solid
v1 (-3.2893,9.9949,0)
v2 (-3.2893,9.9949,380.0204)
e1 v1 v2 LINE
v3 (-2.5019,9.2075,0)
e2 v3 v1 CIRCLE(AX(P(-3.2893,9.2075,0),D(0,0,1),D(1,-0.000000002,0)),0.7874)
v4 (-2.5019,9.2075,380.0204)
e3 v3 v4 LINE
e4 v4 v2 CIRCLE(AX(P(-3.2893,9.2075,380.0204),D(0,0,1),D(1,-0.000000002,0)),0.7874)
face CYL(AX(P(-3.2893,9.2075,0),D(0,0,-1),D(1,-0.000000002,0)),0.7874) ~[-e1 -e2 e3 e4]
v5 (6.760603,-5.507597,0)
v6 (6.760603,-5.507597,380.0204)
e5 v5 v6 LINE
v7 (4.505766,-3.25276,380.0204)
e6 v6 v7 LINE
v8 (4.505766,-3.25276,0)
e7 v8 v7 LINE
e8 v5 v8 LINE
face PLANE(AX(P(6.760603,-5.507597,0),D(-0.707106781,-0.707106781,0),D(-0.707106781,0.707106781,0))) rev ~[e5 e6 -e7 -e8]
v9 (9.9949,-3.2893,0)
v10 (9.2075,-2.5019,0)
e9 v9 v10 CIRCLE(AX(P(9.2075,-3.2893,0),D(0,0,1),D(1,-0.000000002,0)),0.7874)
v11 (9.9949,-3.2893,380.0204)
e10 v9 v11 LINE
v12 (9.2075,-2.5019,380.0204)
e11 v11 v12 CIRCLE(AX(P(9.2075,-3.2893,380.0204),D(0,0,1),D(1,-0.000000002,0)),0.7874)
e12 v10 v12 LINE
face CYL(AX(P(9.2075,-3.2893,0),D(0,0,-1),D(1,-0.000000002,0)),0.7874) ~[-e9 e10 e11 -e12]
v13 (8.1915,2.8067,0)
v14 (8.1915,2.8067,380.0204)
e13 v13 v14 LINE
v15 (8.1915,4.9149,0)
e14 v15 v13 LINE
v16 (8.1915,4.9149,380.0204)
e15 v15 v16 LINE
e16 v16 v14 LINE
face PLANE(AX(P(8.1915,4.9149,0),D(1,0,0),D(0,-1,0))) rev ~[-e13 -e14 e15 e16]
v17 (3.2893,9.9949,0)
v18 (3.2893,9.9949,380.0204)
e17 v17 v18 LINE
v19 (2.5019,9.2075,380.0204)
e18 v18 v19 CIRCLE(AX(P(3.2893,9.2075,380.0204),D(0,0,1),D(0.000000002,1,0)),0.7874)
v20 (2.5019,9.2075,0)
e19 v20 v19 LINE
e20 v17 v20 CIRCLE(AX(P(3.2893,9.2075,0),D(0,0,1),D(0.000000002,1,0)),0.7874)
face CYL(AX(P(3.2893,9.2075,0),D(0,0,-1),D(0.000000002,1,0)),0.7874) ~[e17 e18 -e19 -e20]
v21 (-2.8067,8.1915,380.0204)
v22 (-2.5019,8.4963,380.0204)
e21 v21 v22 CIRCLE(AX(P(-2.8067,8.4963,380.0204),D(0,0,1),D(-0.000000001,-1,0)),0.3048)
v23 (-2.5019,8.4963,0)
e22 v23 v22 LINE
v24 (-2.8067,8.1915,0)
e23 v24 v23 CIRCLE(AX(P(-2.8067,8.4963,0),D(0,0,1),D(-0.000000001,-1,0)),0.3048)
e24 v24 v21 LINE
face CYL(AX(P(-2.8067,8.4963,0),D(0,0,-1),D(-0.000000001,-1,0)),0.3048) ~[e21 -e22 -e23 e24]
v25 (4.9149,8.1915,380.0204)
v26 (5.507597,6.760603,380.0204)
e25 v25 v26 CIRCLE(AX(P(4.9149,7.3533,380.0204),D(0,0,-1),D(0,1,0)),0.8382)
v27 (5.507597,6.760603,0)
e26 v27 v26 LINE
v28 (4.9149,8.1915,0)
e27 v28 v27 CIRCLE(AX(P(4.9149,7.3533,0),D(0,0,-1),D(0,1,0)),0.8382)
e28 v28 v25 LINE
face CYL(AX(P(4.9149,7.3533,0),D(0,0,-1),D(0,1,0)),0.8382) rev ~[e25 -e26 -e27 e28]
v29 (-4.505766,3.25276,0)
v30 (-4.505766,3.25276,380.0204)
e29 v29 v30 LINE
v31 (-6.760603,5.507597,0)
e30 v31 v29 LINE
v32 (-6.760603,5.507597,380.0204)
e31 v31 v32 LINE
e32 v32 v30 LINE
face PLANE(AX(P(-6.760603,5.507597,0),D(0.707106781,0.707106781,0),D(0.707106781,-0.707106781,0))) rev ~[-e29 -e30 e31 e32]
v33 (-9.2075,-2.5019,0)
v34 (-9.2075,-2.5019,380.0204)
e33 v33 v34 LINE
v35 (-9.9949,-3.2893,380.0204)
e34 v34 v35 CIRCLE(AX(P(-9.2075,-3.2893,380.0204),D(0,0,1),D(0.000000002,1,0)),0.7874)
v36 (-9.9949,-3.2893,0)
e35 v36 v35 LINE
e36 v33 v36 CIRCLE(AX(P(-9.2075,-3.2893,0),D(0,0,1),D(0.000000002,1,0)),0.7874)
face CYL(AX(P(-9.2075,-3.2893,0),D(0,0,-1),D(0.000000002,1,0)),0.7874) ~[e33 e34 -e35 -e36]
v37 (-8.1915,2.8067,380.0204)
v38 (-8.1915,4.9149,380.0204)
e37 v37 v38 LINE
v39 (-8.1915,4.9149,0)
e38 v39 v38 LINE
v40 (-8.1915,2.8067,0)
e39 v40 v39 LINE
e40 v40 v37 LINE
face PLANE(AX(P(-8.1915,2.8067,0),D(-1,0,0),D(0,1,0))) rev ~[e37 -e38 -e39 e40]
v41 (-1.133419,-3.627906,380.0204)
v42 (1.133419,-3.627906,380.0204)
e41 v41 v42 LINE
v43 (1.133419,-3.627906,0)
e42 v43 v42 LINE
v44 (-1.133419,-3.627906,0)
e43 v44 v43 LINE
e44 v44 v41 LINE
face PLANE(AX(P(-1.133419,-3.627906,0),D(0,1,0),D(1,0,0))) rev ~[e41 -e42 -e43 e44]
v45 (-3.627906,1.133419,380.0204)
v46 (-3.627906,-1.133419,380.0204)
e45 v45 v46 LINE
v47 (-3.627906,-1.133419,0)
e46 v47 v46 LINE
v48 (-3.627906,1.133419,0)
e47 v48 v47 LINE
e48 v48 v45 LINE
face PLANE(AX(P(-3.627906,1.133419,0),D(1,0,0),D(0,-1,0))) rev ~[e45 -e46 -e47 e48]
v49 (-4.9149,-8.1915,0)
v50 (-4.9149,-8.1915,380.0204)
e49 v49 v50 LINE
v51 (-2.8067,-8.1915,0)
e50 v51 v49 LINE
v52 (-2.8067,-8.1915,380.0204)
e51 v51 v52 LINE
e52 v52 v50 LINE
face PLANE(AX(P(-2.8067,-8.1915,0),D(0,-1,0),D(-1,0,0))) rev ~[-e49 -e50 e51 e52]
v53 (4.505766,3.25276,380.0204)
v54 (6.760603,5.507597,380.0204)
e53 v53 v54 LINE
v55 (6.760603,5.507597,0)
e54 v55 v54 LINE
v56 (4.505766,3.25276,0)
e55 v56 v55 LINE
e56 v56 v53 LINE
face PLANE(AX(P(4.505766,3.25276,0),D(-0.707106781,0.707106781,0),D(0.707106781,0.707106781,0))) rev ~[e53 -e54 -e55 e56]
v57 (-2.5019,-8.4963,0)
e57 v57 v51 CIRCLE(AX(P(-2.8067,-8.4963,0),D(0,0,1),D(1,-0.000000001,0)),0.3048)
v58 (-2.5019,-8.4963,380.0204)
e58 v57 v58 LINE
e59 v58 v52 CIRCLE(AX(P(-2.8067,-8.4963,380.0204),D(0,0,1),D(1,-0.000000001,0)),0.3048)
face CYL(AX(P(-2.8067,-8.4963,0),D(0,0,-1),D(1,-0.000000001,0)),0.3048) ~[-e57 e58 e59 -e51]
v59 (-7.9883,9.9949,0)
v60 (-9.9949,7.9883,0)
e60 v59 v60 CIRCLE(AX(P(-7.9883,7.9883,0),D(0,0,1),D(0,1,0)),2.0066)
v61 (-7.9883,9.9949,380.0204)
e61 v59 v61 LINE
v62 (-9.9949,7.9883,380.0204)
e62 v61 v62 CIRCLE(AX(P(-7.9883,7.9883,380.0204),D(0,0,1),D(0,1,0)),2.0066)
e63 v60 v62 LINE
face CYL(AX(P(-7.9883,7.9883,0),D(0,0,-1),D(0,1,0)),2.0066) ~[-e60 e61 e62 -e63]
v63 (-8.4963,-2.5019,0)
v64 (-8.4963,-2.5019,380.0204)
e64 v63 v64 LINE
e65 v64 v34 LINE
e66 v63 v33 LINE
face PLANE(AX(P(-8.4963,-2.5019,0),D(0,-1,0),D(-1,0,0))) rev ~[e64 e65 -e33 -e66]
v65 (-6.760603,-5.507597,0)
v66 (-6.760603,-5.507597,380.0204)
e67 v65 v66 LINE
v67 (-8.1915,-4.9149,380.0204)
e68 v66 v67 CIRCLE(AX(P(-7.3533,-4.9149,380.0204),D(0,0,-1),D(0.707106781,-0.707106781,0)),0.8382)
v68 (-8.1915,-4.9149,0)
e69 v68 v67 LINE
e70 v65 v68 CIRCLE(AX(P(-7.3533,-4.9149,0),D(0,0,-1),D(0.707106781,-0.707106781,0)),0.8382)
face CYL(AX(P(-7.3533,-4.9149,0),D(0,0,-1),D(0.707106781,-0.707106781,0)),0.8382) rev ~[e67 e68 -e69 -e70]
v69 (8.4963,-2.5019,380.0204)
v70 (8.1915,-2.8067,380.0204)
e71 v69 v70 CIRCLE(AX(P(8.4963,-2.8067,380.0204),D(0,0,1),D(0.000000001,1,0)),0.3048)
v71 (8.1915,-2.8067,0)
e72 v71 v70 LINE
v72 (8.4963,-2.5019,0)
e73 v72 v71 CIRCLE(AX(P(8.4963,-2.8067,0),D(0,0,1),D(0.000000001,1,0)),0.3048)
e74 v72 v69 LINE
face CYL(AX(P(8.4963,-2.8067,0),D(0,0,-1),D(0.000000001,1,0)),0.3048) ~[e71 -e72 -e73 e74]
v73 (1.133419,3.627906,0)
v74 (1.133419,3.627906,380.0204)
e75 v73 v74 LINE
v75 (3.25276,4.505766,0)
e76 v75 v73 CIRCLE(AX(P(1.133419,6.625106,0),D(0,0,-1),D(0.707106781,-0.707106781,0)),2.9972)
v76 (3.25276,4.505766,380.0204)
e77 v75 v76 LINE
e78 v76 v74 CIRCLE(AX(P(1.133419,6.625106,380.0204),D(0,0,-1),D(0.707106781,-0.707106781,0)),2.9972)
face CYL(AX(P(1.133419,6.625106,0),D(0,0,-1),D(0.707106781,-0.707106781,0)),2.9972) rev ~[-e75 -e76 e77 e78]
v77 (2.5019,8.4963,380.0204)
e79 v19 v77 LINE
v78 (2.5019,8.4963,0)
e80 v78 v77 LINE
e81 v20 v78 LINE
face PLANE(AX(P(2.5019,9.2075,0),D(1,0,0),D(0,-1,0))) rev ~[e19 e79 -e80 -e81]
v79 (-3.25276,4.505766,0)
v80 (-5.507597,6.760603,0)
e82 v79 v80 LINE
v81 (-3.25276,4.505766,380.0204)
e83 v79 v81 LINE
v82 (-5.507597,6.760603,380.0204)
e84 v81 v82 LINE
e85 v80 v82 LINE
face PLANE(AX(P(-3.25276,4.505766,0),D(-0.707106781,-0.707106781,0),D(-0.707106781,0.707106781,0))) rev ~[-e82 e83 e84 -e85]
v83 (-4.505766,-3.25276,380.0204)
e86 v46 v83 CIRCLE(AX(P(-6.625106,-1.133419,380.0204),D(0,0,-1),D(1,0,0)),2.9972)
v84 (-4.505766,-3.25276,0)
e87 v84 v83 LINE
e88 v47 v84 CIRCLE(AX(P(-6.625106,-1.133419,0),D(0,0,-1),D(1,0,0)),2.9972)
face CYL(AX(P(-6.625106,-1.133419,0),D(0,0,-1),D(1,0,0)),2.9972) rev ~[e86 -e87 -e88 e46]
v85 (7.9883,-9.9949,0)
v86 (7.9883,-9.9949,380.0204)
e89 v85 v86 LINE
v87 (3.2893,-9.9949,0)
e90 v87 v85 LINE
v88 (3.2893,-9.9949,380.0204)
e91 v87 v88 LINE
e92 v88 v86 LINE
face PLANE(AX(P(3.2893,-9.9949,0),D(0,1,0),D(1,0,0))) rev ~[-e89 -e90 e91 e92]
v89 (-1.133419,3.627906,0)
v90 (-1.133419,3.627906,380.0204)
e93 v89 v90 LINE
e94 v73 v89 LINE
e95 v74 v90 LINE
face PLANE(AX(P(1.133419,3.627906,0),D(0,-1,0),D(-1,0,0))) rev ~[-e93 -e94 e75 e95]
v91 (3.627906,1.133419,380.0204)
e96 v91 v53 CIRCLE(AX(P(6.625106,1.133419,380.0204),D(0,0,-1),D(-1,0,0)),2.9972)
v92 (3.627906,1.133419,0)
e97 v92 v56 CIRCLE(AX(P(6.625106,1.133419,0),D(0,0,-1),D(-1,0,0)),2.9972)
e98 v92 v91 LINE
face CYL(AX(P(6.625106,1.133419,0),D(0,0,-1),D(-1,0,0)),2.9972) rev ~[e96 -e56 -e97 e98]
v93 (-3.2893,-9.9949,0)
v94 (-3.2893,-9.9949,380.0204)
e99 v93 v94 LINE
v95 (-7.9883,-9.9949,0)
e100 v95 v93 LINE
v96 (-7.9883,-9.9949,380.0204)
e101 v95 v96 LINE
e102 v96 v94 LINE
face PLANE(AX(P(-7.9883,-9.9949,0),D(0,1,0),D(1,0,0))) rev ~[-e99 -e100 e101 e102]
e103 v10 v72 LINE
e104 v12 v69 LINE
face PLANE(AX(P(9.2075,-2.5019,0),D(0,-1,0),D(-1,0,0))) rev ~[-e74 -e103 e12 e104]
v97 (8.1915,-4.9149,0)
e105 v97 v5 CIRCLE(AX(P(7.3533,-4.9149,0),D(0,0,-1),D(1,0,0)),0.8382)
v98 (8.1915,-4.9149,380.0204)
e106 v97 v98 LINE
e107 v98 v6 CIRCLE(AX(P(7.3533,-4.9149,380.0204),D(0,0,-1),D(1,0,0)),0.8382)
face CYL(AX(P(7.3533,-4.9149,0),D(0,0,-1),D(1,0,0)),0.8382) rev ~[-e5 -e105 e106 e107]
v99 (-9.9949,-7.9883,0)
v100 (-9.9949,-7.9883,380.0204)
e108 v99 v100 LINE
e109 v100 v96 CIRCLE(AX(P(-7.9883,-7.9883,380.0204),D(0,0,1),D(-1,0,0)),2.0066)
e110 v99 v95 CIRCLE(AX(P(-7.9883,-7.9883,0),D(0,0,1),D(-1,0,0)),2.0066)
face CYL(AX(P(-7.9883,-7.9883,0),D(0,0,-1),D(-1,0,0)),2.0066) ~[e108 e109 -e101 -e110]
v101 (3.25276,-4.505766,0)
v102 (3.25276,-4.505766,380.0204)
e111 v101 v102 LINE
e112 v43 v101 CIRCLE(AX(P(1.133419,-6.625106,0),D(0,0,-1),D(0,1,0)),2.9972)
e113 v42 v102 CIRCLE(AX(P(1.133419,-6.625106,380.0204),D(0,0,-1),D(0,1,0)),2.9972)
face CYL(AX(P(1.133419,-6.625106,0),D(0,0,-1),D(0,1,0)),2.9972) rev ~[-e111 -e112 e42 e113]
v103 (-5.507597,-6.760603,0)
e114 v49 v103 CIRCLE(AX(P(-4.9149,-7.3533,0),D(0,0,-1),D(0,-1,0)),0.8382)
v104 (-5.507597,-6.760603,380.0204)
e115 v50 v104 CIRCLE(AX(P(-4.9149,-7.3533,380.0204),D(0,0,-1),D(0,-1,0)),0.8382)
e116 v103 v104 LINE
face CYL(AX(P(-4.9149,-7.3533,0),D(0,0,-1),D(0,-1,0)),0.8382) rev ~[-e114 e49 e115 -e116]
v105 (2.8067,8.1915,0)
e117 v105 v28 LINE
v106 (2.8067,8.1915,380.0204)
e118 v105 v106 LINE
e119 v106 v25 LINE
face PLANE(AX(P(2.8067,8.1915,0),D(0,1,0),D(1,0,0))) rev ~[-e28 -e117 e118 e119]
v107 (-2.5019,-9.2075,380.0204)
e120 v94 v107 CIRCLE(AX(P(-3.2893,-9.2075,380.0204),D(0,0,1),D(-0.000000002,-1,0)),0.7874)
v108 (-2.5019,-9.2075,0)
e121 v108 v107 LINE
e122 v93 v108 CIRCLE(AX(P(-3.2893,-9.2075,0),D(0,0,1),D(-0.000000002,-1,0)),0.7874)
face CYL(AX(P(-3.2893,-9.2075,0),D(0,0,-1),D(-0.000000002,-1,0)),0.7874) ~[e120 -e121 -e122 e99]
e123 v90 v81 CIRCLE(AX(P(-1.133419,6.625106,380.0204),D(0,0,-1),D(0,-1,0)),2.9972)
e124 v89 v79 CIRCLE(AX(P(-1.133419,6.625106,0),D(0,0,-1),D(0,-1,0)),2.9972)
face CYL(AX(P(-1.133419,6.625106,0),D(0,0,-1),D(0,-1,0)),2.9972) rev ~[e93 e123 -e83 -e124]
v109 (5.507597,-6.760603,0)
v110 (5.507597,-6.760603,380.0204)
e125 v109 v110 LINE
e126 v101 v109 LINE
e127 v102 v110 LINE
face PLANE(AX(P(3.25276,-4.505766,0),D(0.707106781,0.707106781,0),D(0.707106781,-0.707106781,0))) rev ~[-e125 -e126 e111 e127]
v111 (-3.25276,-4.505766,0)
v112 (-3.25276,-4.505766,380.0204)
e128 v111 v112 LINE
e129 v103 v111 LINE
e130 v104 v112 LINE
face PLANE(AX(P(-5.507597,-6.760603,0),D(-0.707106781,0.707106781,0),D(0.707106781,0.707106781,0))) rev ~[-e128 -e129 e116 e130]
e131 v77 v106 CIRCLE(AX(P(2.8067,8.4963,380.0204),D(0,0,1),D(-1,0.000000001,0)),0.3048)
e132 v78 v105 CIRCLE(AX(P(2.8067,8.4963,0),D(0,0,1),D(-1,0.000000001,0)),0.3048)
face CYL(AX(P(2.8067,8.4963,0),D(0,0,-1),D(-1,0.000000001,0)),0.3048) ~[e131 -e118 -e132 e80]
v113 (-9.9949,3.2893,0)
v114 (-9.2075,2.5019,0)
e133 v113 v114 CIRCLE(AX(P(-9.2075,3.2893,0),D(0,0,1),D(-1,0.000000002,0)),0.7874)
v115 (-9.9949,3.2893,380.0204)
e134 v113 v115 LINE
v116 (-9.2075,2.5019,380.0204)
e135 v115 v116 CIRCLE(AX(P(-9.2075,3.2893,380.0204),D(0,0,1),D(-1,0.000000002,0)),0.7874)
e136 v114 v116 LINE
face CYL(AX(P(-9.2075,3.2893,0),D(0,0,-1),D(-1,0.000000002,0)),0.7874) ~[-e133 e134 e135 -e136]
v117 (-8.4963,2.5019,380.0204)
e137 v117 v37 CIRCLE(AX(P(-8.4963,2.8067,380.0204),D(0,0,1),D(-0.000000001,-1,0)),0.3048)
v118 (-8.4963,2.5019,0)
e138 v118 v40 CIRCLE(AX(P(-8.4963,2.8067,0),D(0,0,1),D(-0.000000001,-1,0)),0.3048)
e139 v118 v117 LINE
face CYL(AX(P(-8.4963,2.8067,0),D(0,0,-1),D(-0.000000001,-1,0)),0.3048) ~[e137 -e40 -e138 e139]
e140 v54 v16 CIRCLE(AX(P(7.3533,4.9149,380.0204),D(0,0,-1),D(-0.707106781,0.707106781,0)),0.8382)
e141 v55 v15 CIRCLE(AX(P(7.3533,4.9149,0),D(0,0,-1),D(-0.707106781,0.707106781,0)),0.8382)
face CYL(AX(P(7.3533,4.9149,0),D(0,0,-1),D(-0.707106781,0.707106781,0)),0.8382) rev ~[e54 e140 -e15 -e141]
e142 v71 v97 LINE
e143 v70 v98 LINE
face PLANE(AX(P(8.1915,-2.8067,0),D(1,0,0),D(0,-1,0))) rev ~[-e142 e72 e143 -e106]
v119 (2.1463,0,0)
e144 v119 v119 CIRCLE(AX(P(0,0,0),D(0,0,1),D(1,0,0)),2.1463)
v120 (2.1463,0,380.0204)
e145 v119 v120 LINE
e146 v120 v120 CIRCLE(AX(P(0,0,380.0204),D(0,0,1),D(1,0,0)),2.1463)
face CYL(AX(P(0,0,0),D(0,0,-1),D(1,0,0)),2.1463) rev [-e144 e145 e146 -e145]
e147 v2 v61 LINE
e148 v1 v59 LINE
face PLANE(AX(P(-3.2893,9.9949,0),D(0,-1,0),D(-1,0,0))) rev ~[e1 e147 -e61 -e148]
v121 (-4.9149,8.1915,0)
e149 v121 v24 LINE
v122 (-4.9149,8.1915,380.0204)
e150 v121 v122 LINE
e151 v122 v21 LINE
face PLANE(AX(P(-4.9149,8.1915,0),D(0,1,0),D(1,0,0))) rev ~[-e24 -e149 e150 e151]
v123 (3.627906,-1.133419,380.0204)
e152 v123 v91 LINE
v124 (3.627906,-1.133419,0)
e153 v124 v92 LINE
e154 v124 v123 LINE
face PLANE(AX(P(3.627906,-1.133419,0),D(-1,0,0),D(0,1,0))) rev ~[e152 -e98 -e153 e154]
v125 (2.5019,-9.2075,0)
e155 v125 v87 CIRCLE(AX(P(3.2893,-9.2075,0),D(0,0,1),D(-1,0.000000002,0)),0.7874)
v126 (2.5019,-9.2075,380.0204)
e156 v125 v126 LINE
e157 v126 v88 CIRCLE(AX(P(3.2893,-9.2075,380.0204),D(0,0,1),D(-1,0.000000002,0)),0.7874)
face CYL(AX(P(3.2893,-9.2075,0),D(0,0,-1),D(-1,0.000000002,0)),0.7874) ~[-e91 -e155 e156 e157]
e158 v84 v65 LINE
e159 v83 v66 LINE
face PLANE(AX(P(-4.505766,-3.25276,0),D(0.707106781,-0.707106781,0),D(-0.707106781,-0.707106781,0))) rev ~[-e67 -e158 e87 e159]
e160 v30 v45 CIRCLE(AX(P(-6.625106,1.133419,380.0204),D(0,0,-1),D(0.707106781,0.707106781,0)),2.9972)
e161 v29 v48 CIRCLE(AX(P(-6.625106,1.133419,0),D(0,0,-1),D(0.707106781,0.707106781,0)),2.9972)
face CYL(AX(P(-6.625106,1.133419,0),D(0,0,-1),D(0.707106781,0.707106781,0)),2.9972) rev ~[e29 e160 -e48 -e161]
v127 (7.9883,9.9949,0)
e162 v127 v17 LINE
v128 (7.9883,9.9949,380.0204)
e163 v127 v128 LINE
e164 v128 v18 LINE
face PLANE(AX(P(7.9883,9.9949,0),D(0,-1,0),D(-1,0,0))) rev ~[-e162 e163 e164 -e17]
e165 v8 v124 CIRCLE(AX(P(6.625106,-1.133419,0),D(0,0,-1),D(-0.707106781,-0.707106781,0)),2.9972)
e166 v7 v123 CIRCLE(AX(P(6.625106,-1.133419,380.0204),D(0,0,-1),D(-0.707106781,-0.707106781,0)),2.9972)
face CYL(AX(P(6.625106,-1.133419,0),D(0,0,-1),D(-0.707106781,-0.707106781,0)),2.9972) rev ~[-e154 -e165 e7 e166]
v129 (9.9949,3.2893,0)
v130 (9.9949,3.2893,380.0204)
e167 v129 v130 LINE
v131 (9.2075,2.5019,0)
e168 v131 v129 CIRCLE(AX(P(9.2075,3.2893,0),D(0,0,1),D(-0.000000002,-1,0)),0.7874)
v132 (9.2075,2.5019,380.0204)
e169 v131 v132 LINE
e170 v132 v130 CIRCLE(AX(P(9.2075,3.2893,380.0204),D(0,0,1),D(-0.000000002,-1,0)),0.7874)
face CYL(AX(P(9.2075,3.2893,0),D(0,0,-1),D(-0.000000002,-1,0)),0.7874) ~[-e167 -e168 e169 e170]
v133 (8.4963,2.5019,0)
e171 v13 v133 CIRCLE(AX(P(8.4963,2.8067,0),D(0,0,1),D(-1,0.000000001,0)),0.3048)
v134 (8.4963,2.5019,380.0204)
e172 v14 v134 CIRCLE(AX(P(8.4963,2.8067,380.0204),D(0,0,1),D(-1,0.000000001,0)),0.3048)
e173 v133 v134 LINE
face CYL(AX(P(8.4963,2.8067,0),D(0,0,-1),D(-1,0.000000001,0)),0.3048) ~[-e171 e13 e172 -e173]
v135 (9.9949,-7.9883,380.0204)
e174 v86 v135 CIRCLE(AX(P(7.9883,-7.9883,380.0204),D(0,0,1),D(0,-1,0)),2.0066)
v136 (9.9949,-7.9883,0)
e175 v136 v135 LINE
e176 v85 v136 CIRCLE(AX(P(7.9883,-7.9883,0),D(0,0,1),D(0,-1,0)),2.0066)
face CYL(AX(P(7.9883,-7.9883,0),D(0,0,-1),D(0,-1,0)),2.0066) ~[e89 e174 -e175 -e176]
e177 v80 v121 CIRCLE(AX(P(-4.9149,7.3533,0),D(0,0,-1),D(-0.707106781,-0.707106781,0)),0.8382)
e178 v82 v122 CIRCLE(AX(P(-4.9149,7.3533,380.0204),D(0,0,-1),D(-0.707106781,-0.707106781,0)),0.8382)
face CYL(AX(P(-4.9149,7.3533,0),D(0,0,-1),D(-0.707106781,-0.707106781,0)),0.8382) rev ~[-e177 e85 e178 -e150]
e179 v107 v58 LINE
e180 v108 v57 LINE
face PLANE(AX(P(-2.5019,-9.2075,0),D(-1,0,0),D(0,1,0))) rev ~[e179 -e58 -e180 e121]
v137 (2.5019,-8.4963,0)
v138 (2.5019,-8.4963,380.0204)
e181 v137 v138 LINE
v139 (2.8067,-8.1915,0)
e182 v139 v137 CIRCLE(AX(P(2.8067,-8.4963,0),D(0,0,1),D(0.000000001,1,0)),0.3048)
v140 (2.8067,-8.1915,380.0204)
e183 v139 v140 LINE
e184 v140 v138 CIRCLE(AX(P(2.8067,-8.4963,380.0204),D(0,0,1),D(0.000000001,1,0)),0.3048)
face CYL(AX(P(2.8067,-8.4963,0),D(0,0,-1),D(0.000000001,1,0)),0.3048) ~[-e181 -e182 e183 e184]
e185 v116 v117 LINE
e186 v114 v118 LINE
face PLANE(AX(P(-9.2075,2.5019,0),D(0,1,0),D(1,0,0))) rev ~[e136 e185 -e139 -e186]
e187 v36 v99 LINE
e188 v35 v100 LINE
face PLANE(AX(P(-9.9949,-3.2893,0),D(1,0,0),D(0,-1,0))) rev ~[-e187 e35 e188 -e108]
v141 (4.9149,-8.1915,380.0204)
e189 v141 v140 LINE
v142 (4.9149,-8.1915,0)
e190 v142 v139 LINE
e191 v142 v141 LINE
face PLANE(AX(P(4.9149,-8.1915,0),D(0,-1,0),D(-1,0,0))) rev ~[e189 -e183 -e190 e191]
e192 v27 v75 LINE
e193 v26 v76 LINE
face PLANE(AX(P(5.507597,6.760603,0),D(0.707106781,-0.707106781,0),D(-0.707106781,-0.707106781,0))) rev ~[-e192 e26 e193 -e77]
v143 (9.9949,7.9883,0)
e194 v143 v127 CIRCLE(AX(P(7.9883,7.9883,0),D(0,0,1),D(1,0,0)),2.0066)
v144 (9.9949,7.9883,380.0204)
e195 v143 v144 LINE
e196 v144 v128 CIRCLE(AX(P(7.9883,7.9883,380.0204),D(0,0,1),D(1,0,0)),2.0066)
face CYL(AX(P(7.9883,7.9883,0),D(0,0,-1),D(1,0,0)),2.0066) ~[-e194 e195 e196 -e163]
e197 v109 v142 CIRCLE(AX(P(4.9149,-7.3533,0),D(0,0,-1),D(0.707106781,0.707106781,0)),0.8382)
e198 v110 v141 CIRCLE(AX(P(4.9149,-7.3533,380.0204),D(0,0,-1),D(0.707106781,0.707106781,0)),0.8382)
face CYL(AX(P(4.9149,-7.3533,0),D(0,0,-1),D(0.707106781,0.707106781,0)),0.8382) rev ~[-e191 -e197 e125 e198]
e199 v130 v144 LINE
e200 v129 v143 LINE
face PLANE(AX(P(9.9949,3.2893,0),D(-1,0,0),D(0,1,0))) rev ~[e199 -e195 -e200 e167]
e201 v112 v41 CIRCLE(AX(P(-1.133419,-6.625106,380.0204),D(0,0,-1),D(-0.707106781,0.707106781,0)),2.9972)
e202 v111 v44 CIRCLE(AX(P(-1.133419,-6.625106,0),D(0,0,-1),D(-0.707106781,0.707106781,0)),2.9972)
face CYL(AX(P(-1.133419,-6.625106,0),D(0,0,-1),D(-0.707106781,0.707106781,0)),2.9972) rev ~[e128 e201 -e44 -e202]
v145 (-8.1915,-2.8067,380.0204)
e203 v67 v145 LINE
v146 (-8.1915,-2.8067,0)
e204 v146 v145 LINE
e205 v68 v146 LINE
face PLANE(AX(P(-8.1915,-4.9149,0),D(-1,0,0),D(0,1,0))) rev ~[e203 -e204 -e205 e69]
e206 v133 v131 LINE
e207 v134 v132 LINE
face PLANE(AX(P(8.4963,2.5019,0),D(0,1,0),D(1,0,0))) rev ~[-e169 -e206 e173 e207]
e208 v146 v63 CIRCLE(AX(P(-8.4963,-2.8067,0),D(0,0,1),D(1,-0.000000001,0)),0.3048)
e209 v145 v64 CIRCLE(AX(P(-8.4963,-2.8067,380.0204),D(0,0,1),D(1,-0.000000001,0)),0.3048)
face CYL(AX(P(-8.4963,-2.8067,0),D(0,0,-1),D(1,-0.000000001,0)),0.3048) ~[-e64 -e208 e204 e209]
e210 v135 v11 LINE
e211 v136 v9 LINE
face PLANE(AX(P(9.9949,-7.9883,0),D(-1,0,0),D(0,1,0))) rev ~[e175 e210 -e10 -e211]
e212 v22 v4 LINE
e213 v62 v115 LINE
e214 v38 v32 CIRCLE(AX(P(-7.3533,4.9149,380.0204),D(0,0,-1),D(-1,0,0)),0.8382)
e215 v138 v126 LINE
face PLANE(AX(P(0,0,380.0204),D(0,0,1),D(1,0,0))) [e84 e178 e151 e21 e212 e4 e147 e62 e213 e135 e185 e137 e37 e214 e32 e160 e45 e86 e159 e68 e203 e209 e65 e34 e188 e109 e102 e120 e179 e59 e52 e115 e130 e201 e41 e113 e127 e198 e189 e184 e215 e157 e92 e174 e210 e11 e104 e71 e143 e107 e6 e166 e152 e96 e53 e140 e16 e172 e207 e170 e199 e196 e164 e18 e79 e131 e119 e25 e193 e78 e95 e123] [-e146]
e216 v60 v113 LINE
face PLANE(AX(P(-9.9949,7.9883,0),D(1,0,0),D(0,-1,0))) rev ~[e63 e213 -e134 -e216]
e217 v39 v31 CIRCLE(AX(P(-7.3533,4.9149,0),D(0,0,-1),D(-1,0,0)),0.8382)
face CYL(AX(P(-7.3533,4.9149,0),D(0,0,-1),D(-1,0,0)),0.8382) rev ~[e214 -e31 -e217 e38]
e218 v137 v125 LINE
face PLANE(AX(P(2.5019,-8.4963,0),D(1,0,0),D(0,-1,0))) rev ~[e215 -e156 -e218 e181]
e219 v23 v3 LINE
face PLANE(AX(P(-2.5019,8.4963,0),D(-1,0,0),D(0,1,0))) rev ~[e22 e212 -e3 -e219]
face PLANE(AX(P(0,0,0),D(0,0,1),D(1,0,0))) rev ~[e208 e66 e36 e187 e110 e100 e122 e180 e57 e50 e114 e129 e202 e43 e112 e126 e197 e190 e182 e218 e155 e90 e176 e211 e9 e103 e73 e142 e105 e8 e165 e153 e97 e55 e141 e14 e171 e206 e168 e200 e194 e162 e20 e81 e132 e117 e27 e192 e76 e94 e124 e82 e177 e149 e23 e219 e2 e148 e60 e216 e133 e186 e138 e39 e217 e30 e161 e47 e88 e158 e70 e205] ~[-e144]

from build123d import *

# Parameters (mm, degrees)
SKETCH1_R           = 2.1463
BOSS_EXTRUDE1_DEPTH = 380.0204


with BuildPart() as part:
    # Sketch1 → Boss-Extrude1 (new body)
    with BuildSketch(Plane.XY):
        with BuildLine():
            Line((-9.9949, 7.9883), (-9.9949, 3.2893))
            ThreePointArc((-9.9949, 3.2893), (-9.76427588, 2.73252412), (-9.2075, 2.5019))
            Line((-9.2075, 2.5019), (-8.4963, 2.5019))
            ThreePointArc((-8.4963, 2.5019), (-8.280773853, 2.591173853), (-8.1915, 2.8067))
            Line((-8.1915, 2.8067), (-8.1915, 4.9149))
            ThreePointArc((-8.1915, 4.9149), (-7.674065253, 5.689295824), (-6.760603096, 5.507596904))
            Line((-6.760603096, 5.507596904), (-4.505765747, 3.252759555))
            ThreePointArc((-4.505765747, 3.252759555), (-3.856054457, 2.280397894), (-3.627906192, 1.133419111))
            Line((-3.627906192, 1.133419111), (-3.627906192, -1.133419111))
            ThreePointArc((-3.627906192, -1.133419111), (-3.856054457, -2.280397894), (-4.505765747, -3.252759555))
            Line((-4.505765747, -3.252759555), (-6.760603096, -5.507596904))
            ThreePointArc((-6.760603096, -5.507596904), (-7.674065253, -5.689295824), (-8.1915, -4.9149))
            Line((-8.1915, -4.9149), (-8.1915, -2.8067))
            ThreePointArc((-8.1915, -2.8067), (-8.280773853, -2.591173853), (-8.4963, -2.5019))
            Line((-8.4963, -2.5019), (-9.2075, -2.5019))
            ThreePointArc((-9.2075, -2.5019), (-9.76427588, -2.73252412), (-9.9949, -3.2893))
            Line((-9.9949, -3.2893), (-9.9949, -7.9883))
            ThreePointArc((-9.9949, -7.9883), (-9.407180467, -9.407180467), (-7.9883, -9.9949))
            Line((-7.9883, -9.9949), (-3.2893, -9.9949))
            ThreePointArc((-3.2893, -9.9949), (-2.73252412, -9.76427588), (-2.5019, -9.2075))
            Line((-2.5019, -9.2075), (-2.5019, -8.4963))
            ThreePointArc((-2.5019, -8.4963), (-2.591173853, -8.280773853), (-2.8067, -8.1915))
            Line((-2.8067, -8.1915), (-4.9149, -8.1915))
            ThreePointArc((-4.9149, -8.1915), (-5.689295824, -7.674065253), (-5.507596904, -6.760603096))
            Line((-5.507596904, -6.760603096), (-3.252759555, -4.505765747))
            ThreePointArc((-3.252759555, -4.505765747), (-2.280397894, -3.856054457), (-1.133419111, -3.627906192))
            Line((-1.133419111, -3.627906192), (1.133419111, -3.627906192))
            ThreePointArc((1.133419111, -3.627906192), (2.280397894, -3.856054457), (3.252759555, -4.505765747))
            Line((3.252759555, -4.505765747), (5.507596904, -6.760603096))
            ThreePointArc((5.507596904, -6.760603096), (5.689295824, -7.674065253), (4.9149, -8.1915))
            Line((4.9149, -8.1915), (2.8067, -8.1915))
            ThreePointArc((2.8067, -8.1915), (2.591173853, -8.280773853), (2.5019, -8.4963))
            Line((2.5019, -8.4963), (2.5019, -9.2075))
            ThreePointArc((2.5019, -9.2075), (2.73252412, -9.76427588), (3.2893, -9.9949))
            Line((3.2893, -9.9949), (7.9883, -9.9949))
            ThreePointArc((7.9883, -9.9949), (9.407180467, -9.407180467), (9.9949, -7.9883))
            Line((9.9949, -7.9883), (9.9949, -3.2893))
            ThreePointArc((9.9949, -3.2893), (9.76427588, -2.73252412), (9.2075, -2.5019))
            Line((9.2075, -2.5019), (8.4963, -2.5019))
            ThreePointArc((8.4963, -2.5019), (8.280773853, -2.591173853), (8.1915, -2.8067))
            Line((8.1915, -2.8067), (8.1915, -4.9149))
            ThreePointArc((8.1915, -4.9149), (7.674065253, -5.689295824), (6.760603096, -5.507596904))
            Line((6.760603096, -5.507596904), (4.505765747, -3.252759555))
            ThreePointArc((4.505765747, -3.252759555), (3.856054457, -2.280397894), (3.627906192, -1.133419111))
            Line((3.627906192, -1.133419111), (3.627906192, 1.133419111))
            ThreePointArc((3.627906192, 1.133419111), (3.856054457, 2.280397894), (4.505765747, 3.252759555))
            Line((4.505765747, 3.252759555), (6.760603096, 5.507596904))
            ThreePointArc((6.760603096, 5.507596904), (7.674065253, 5.689295824), (8.1915, 4.9149))
            Line((8.1915, 4.9149), (8.1915, 2.8067))
            ThreePointArc((8.1915, 2.8067), (8.280773853, 2.591173853), (8.4963, 2.5019))
            Line((8.4963, 2.5019), (9.2075, 2.5019))
            ThreePointArc((9.2075, 2.5019), (9.76427588, 2.73252412), (9.9949, 3.2893))
            Line((9.9949, 3.2893), (9.9949, 7.9883))
            ThreePointArc((9.9949, 7.9883), (9.407180467, 9.407180467), (7.9883, 9.9949))
            Line((7.9883, 9.9949), (3.2893, 9.9949))
            ThreePointArc((3.2893, 9.9949), (2.73252412, 9.76427588), (2.5019, 9.2075))
            Line((2.5019, 9.2075), (2.5019, 8.4963))
            ThreePointArc((2.5019, 8.4963), (2.591173853, 8.280773853), (2.8067, 8.1915))
            Line((2.8067, 8.1915), (4.9149, 8.1915))
            ThreePointArc((4.9149, 8.1915), (5.689295824, 7.674065253), (5.507596904, 6.760603096))
            Line((5.507596904, 6.760603096), (3.252759555, 4.505765747))
            ThreePointArc((3.252759555, 4.505765747), (2.280397894, 3.856054457), (1.133419111, 3.627906192))
            Line((1.133419111, 3.627906192), (-1.133419111, 3.627906192))
            ThreePointArc((-1.133419111, 3.627906192), (-2.280397894, 3.856054457), (-3.252759555, 4.505765747))
            Line((-3.252759555, 4.505765747), (-5.507596904, 6.760603096))
            ThreePointArc((-5.507596904, 6.760603096), (-5.689295824, 7.674065253), (-4.9149, 8.1915))
            Line((-4.9149, 8.1915), (-2.8067, 8.1915))
            ThreePointArc((-2.8067, 8.1915), (-2.591173853, 8.280773853), (-2.5019, 8.4963))
            Line((-2.5019, 8.4963), (-2.5019, 9.2075))
            ThreePointArc((-2.5019, 9.2075), (-2.73252412, 9.76427588), (-3.2893, 9.9949))
            Line((-3.2893, 9.9949), (-7.9883, 9.9949))
            ThreePointArc((-7.9883, 9.9949), (-9.407180467, 9.407180467), (-9.9949, 7.9883))
        make_face()
        Circle(SKETCH1_R, mode=Mode.SUBTRACT)
    extrude(amount=BOSS_EXTRUDE1_DEPTH)


solid = part.part
